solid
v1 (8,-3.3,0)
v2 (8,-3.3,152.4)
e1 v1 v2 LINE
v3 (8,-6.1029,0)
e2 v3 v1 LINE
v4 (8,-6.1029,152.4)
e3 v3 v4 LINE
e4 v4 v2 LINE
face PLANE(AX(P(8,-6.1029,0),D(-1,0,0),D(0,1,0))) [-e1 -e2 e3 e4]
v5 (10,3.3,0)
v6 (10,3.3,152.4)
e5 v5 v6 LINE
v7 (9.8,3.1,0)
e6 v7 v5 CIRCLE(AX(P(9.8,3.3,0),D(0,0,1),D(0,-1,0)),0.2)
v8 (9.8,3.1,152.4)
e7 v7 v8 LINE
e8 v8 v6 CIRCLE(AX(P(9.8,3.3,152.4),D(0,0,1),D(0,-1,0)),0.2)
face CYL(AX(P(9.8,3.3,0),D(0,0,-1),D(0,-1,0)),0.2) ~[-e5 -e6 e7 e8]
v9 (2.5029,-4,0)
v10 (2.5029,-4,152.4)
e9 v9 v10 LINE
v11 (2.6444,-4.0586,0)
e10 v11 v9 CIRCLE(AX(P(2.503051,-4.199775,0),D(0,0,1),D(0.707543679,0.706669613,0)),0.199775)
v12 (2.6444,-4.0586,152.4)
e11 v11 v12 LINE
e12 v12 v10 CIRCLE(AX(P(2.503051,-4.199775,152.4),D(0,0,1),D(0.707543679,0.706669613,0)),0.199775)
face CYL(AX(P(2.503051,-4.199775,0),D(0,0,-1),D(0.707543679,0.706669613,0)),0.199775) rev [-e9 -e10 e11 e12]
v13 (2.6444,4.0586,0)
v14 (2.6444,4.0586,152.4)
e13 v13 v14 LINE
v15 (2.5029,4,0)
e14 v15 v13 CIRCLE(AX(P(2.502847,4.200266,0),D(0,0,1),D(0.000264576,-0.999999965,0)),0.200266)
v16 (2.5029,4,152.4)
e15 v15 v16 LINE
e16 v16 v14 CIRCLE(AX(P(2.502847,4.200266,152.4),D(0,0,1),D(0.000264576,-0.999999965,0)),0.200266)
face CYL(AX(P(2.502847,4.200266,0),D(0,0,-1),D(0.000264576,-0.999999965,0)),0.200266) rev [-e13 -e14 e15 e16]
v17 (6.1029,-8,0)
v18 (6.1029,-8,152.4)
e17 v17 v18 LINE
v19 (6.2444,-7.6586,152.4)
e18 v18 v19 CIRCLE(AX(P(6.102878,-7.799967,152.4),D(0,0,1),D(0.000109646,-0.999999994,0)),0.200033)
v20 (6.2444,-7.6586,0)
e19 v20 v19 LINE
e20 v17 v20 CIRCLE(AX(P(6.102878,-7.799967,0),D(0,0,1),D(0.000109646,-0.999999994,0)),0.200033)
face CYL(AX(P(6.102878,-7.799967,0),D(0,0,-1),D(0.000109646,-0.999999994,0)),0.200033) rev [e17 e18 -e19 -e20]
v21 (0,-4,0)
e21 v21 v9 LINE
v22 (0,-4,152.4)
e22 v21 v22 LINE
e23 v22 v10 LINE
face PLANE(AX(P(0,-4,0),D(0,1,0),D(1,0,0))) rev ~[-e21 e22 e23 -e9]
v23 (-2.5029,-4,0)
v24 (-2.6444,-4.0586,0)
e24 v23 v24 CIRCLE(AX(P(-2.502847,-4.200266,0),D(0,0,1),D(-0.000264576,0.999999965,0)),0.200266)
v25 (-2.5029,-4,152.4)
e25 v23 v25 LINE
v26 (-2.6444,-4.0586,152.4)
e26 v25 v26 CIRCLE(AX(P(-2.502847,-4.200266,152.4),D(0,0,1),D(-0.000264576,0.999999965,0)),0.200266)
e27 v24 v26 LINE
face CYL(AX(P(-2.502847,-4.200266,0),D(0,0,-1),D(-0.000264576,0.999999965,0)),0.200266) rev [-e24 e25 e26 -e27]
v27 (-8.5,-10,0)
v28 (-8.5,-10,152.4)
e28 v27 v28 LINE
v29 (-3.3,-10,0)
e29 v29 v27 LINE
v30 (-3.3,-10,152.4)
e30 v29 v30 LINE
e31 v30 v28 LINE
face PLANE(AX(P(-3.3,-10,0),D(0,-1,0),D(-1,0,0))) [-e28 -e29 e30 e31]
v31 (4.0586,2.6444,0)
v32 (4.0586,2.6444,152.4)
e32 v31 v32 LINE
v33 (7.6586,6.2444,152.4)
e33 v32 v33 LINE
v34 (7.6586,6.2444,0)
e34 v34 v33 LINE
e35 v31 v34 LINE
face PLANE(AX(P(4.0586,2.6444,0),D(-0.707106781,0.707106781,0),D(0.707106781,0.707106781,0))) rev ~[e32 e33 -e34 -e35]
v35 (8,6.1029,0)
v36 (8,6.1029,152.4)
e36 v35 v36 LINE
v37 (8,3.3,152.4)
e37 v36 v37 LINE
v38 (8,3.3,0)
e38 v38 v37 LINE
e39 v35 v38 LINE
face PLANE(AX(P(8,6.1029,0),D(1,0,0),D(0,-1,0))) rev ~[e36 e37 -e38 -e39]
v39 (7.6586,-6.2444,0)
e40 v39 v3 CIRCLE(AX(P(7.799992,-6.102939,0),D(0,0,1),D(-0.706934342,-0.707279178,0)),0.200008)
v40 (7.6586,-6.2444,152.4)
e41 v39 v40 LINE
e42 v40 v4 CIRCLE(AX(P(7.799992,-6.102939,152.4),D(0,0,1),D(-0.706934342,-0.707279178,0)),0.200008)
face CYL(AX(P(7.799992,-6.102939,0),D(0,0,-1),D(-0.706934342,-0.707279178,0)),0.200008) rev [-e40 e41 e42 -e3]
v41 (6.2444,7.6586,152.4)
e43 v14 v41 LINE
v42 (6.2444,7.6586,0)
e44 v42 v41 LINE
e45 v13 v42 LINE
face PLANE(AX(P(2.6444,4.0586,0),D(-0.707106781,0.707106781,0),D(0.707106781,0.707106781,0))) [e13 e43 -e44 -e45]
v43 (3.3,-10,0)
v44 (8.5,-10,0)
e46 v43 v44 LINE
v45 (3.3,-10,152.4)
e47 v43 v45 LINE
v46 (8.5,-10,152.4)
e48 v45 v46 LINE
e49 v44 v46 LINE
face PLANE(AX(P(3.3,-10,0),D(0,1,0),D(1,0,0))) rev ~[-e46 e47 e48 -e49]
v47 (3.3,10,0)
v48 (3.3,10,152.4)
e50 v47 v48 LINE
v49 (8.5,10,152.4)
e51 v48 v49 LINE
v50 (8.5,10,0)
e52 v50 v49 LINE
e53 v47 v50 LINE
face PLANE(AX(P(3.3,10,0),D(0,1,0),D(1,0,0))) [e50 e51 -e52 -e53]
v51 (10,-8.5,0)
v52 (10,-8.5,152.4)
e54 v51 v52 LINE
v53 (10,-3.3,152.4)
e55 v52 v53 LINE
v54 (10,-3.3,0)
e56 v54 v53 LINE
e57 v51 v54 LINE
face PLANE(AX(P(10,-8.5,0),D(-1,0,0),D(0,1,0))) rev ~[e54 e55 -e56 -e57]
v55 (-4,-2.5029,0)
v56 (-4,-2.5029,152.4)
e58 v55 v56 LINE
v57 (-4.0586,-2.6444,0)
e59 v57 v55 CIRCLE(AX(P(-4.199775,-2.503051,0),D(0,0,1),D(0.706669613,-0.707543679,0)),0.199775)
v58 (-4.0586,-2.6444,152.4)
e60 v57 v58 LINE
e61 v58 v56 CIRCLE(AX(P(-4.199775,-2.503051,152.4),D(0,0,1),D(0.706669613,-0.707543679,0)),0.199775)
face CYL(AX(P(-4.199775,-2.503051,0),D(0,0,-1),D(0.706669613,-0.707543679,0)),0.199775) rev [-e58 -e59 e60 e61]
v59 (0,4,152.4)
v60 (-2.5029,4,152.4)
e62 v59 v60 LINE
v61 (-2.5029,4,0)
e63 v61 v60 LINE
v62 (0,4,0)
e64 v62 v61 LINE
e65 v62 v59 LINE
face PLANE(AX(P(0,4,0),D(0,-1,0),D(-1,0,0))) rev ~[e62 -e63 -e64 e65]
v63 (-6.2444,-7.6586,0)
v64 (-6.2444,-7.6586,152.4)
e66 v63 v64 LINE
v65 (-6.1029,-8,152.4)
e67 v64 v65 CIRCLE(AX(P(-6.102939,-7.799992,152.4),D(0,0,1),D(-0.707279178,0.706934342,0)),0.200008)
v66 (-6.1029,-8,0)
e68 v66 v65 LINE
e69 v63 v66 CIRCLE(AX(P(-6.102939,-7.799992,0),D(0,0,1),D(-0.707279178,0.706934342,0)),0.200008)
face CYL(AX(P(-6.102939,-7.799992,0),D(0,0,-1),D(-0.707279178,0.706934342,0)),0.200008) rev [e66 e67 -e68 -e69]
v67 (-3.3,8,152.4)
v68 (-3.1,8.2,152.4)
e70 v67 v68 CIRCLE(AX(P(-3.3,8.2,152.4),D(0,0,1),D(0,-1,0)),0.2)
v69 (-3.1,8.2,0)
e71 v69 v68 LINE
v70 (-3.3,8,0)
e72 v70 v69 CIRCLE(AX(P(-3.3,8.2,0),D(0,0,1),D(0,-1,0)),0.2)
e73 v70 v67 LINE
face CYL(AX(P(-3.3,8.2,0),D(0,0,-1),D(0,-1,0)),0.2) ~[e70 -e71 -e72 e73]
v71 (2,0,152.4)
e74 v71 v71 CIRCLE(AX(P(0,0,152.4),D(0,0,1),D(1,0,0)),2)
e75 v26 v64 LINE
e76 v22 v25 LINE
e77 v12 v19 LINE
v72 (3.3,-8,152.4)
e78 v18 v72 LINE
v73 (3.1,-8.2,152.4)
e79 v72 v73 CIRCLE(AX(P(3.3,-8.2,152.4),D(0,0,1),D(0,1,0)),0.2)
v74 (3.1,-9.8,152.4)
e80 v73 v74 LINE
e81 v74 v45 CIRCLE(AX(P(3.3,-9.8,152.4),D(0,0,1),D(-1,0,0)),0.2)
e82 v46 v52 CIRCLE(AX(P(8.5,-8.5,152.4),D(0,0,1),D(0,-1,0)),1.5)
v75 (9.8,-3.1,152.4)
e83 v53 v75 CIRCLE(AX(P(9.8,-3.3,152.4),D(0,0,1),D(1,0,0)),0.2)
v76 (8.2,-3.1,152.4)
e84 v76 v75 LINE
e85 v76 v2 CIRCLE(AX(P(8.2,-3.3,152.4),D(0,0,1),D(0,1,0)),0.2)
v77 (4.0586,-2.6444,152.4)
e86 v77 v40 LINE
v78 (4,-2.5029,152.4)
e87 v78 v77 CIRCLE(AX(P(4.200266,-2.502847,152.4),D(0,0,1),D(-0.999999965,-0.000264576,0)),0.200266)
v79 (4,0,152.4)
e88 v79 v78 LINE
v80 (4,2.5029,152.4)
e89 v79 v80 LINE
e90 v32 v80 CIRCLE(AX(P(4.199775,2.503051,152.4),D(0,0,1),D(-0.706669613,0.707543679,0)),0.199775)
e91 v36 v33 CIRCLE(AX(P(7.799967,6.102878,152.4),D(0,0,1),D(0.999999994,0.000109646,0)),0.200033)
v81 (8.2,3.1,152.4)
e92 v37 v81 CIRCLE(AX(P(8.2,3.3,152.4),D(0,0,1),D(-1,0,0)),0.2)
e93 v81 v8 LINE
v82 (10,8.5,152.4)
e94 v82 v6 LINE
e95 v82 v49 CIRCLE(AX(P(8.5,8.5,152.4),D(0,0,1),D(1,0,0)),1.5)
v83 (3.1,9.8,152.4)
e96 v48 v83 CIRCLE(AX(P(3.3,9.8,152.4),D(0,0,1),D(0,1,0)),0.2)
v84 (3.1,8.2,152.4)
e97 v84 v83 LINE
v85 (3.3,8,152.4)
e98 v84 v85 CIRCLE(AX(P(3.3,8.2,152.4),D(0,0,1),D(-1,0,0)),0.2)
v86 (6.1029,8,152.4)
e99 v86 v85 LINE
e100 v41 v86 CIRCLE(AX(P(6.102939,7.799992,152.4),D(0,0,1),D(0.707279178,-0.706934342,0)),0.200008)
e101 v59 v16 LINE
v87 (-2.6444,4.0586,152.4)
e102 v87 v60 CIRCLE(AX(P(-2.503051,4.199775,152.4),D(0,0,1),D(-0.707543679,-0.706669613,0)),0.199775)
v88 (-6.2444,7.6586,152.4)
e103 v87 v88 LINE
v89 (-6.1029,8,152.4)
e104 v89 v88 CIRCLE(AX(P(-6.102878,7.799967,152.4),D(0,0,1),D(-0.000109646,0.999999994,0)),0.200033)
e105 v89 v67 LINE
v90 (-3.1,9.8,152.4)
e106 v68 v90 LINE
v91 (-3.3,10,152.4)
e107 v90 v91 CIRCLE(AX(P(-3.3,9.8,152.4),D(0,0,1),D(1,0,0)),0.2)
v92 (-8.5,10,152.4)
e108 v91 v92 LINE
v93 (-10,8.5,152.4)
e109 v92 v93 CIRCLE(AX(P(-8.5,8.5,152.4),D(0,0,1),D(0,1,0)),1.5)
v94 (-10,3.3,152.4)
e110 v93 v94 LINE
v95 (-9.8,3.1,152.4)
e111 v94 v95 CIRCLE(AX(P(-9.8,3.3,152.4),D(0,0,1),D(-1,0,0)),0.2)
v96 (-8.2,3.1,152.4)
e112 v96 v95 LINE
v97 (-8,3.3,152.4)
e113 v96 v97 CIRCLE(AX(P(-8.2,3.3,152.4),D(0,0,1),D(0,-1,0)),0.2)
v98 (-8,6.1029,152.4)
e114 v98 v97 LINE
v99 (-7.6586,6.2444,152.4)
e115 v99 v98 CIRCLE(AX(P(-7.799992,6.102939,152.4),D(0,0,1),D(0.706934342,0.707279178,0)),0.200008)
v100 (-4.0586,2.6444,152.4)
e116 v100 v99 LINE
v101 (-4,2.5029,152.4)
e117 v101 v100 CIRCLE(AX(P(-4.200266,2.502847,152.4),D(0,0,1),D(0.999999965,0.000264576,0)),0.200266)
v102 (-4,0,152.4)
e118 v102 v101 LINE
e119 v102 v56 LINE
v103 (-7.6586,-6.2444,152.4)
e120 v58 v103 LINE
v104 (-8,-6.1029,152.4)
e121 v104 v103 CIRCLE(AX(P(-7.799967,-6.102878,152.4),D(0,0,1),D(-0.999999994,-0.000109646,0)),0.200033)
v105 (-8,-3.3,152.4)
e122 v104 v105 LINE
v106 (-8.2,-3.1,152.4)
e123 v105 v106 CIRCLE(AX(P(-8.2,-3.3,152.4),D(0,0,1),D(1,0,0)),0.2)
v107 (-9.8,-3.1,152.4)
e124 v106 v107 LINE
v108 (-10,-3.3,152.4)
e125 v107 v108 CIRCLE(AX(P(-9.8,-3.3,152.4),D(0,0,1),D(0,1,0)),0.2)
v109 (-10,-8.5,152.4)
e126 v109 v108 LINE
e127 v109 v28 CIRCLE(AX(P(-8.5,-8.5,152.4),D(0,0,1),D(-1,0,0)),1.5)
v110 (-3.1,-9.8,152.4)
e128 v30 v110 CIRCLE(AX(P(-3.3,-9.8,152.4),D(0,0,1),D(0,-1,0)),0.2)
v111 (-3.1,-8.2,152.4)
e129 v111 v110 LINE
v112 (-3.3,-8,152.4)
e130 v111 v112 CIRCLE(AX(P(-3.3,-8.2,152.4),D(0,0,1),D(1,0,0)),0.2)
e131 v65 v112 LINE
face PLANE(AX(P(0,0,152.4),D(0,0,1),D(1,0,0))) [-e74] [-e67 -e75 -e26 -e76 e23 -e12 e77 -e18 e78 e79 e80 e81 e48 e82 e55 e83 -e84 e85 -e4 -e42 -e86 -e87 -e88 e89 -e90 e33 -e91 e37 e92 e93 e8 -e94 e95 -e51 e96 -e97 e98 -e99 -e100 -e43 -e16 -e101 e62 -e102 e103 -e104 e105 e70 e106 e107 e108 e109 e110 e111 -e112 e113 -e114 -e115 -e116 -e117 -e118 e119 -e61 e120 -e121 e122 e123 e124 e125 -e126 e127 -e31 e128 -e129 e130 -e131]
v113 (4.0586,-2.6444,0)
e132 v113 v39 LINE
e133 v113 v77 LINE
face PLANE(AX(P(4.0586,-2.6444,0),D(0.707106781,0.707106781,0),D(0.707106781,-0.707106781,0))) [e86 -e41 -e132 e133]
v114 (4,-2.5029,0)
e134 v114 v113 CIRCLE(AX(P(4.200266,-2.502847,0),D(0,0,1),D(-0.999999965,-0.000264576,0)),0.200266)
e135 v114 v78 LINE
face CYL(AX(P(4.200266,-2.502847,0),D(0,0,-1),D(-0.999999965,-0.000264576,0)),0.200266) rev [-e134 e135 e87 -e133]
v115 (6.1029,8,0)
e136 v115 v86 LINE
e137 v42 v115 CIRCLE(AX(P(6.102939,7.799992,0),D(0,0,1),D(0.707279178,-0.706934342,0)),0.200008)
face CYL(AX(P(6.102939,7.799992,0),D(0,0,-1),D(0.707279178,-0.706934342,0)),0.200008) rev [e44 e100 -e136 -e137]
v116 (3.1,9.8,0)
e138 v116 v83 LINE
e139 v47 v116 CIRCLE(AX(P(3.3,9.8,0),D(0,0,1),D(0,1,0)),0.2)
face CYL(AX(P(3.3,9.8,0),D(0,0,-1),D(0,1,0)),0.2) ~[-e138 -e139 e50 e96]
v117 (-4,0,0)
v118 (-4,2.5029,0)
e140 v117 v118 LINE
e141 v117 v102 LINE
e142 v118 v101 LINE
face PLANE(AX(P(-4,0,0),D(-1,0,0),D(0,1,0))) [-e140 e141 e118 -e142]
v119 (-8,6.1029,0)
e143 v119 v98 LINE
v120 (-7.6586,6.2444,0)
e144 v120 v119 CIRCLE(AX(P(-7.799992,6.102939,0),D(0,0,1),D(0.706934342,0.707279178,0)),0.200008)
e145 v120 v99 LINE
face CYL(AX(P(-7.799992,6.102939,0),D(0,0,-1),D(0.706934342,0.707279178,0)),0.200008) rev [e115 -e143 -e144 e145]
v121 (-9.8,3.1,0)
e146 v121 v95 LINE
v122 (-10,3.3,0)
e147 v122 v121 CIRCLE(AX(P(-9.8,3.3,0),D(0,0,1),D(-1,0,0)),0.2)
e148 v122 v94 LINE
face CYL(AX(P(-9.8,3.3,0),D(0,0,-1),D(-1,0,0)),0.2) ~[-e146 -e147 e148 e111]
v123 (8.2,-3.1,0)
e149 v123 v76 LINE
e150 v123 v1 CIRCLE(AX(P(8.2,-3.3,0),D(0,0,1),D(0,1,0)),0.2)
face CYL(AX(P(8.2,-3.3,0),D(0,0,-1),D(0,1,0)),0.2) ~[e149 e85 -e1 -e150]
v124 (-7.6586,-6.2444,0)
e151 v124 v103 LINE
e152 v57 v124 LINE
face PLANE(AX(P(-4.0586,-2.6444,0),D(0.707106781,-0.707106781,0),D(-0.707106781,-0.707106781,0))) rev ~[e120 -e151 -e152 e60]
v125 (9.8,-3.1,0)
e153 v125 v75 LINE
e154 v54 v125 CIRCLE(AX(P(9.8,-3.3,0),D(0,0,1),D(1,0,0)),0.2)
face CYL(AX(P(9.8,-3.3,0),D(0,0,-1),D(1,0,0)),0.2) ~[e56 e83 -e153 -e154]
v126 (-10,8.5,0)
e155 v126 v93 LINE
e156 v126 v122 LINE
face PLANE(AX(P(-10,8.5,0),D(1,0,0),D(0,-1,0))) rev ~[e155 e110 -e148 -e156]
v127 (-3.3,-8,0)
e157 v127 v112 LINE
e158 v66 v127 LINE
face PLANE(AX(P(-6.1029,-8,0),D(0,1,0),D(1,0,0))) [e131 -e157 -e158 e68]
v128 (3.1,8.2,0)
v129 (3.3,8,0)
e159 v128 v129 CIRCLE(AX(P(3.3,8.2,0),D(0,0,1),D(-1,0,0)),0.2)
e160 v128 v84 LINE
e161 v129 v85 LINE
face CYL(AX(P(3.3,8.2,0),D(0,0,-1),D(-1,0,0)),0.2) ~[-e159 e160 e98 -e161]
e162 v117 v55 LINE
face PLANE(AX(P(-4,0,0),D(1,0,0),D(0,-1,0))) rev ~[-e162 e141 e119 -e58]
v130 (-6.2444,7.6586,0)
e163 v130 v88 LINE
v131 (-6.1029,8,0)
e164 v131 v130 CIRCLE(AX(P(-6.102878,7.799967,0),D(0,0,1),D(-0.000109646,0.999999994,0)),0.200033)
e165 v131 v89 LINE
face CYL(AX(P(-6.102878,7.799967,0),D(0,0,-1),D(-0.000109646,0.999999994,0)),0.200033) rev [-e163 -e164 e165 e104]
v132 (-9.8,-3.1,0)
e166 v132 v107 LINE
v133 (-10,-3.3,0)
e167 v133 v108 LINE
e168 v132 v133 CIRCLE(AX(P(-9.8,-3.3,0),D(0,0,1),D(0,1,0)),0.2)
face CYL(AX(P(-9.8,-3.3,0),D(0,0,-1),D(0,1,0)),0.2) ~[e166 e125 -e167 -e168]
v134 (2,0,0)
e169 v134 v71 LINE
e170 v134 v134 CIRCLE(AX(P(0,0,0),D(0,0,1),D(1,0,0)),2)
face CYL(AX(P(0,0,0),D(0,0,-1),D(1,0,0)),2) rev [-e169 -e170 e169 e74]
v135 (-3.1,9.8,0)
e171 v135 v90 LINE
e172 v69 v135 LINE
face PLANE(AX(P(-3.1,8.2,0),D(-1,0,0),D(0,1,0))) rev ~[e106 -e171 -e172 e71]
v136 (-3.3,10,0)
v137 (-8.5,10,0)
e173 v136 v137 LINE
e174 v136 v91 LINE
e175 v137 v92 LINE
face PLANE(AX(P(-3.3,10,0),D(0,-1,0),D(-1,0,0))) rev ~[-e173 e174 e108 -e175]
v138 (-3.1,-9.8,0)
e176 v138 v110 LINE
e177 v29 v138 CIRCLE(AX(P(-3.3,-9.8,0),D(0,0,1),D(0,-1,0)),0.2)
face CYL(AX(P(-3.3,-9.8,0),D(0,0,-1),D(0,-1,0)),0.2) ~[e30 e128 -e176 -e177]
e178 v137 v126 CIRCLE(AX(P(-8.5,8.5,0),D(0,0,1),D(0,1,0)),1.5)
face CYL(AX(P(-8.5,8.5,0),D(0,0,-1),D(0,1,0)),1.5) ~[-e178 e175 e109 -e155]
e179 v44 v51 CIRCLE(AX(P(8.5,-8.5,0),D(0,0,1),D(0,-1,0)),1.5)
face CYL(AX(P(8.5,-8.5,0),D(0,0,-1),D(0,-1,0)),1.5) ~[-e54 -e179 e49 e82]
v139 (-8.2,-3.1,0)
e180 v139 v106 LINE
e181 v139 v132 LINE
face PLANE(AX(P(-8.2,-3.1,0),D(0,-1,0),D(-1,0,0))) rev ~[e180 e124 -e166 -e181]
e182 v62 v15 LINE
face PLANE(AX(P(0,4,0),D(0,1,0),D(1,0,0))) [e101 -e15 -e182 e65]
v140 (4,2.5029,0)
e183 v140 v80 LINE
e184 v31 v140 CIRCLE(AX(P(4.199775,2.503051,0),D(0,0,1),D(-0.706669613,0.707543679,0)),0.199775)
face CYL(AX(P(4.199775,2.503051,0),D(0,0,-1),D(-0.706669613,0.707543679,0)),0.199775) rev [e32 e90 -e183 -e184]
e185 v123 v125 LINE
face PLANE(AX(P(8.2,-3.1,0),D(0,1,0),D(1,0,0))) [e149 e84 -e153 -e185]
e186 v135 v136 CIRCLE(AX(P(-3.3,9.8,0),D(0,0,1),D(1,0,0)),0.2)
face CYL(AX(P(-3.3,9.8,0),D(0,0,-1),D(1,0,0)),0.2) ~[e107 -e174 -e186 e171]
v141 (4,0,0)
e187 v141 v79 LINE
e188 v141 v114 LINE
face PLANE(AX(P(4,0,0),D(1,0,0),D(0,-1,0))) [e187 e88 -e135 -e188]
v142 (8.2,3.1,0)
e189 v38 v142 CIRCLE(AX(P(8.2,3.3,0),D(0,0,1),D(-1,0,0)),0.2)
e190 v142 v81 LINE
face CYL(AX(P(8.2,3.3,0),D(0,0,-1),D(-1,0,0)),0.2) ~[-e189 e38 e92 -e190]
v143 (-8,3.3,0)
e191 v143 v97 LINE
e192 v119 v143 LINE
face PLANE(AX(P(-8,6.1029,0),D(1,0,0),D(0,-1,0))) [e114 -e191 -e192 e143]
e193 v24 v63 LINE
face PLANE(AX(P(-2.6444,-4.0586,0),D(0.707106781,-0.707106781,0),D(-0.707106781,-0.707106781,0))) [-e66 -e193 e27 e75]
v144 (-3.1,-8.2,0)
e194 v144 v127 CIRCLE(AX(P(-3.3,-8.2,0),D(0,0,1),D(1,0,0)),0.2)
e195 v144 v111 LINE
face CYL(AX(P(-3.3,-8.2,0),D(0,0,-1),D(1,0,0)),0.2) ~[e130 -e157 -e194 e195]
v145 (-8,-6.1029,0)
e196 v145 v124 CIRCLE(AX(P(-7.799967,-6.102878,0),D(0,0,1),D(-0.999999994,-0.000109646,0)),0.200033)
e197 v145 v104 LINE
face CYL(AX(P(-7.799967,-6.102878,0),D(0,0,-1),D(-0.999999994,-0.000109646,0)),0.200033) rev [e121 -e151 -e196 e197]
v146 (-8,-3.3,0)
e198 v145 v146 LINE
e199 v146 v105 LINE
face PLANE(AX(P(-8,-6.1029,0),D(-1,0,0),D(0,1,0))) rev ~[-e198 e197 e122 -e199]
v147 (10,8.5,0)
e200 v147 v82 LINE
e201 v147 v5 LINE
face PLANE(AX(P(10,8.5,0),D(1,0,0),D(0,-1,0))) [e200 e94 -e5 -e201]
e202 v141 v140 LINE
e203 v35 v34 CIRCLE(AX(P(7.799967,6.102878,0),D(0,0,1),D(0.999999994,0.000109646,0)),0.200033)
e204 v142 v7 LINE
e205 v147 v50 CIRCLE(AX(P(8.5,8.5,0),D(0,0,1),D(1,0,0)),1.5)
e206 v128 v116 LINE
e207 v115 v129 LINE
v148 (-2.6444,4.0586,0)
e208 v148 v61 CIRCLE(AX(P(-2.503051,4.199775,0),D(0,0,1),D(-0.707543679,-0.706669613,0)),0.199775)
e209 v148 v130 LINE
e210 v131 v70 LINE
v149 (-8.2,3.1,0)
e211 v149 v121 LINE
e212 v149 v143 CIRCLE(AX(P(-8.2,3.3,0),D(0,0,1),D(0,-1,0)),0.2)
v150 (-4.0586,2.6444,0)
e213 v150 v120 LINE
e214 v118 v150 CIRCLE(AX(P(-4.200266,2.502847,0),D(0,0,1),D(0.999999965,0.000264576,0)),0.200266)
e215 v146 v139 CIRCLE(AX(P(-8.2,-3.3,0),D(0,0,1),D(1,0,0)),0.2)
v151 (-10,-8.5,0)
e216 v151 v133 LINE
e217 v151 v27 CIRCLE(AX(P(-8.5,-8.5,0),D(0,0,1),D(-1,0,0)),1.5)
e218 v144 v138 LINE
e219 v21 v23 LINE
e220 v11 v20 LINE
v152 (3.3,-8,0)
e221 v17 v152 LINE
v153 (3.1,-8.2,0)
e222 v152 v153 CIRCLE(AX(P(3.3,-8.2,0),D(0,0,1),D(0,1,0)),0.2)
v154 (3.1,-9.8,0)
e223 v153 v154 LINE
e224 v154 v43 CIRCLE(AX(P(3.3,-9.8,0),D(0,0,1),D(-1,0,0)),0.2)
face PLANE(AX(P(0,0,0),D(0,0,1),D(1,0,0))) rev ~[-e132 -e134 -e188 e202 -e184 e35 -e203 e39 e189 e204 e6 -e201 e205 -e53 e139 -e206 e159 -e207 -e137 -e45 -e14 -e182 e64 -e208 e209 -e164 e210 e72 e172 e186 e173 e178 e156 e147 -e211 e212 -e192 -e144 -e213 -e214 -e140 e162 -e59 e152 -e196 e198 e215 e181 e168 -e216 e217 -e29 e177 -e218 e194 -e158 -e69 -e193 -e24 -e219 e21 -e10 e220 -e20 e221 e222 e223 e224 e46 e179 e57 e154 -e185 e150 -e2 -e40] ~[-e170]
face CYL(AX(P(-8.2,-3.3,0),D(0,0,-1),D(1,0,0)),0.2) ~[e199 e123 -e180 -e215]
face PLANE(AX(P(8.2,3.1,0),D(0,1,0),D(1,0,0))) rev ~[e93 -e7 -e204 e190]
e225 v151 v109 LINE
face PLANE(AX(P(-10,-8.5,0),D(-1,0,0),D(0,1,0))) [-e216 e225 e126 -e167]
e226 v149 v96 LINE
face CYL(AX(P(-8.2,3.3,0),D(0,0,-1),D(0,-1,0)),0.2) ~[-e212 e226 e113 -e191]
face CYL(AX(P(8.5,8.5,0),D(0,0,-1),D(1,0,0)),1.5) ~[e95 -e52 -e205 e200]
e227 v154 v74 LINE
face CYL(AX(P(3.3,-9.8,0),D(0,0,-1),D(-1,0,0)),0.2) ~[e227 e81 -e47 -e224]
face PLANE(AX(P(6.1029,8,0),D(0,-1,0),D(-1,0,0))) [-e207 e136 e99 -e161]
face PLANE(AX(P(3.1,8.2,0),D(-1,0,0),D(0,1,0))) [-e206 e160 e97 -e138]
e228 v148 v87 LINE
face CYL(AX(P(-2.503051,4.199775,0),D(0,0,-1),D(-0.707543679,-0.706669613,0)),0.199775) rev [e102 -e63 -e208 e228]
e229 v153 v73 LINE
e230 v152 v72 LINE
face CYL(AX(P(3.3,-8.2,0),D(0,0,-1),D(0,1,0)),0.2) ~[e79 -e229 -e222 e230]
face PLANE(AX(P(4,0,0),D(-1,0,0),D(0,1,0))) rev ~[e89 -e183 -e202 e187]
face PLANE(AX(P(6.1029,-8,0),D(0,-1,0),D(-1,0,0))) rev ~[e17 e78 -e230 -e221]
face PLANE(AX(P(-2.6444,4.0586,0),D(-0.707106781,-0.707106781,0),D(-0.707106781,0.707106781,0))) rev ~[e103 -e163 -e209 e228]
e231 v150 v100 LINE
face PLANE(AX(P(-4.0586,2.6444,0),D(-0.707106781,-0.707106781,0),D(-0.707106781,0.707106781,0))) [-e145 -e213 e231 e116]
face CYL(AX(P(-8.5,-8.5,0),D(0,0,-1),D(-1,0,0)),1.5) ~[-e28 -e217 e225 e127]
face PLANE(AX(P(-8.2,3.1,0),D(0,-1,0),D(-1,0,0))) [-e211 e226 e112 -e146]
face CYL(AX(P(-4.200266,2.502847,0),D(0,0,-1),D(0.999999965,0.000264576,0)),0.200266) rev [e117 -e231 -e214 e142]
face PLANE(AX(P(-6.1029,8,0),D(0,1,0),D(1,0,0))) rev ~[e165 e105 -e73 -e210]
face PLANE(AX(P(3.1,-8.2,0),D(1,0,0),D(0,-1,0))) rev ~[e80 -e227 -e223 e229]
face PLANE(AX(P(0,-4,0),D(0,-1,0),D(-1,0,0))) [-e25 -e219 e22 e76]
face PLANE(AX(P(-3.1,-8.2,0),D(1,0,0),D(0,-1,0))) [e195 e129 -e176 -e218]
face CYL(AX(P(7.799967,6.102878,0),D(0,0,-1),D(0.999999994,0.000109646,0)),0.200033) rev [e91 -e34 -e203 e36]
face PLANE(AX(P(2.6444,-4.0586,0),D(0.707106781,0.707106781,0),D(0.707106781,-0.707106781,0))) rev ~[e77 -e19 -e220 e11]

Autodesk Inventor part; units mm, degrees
ref_plane "YZ Plane" through (0, 0, 0) normal (1, 0, 0) x (0, 1, 0)
ref_plane "XZ Plane" through (0, 0, 0) normal (0, 1, 0) x (-1, 0, 0)
ref_plane "XY Plane" through (0, 0, 0) normal (0, 0, 1) x (1, 0, 0)
sketch "Sketch1" plane through (0, 0, 0) normal (0, 0, 1) x (1, 0, 0)
  line L0 (-10, 10) -> (10, 10) construction
  line L1 (10, 10) -> (10, -10) construction
  line L2 (10, -10) -> (-10, -10) construction
  line L3 (-10, -10) -> (-10, 10) construction
  line L4 (-10, 10) -> (10, -10) construction
  line L5 (10, 10) -> (-10, -10) construction
  circle A0 centre (0, 0) radius 2
  line L6 (-4, -4) -> (4, -4) construction
  line L7 (4, -4) -> (4, 4) construction
  line L8 (4, 4) -> (-4, 4) construction
  line L9 (-4, 4) -> (-4, -4) construction
  line L10 (-4, -4) -> (4, 4) construction
  line L11 (4, -4) -> (-4, 4) construction
  line L12 (2.6444, 4.0586) -> (6.2444, 7.6586)
  line L13 (6.1029, 8) -> (3.3, 8)
  line L14 (3.1, 8.2) -> (3.1, 9.8)
  line L15 (3.3, 10) -> (8.5, 10)
  line L16 (4.0586, 2.6444) -> (7.6586, 6.2444)
  line L17 (8, 6.1029) -> (8, 3.3)
  line L18 (8.2, 3.1) -> (9.8, 3.1)
  line L19 (10, 8.5) -> (10, 3.3)
  line L20 (0, 4) -> (2.5029, 4)
  line L21 (4, 0) -> (4, 2.5029)
  line L22 (0, 10) -> (0, -10) construction
  line L23 (-10, 0) -> (10, 0) construction
  line L24 (-2.6444, 4.0586) -> (-6.2444, 7.6586)
  line L25 (-6.1029, 8) -> (-3.3, 8)
  line L26 (-3.1, 8.2) -> (-3.1, 9.8)
  line L27 (-3.3, 10) -> (-8.5, 10)
  line L28 (-4.0586, 2.6444) -> (-7.6586, 6.2444)
  line L29 (-8, 6.1029) -> (-8, 3.3)
  line L30 (-8.2, 3.1) -> (-9.8, 3.1)
  line L31 (-10, 8.5) -> (-10, 3.3)
  line L32 (0, 4) -> (-2.5029, 4)
  line L33 (-4, 0) -> (-4, 2.5029)
  line L34 (2.6444, -4.0586) -> (6.2444, -7.6586)
  line L35 (6.1029, -8) -> (3.3, -8)
  line L36 (3.1, -8.2) -> (3.1, -9.8)
  line L37 (3.3, -10) -> (8.5, -10)
  line L38 (4.0586, -2.6444) -> (7.6586, -6.2444)
  line L39 (8, -6.1029) -> (8, -3.3)
  line L40 (8.2, -3.1) -> (9.8, -3.1)
  line L41 (10, -8.5) -> (10, -3.3)
  line L42 (0, -4) -> (2.5029, -4)
  line L43 (4, 0) -> (4, -2.5029)
  line L44 (0, -4) -> (-2.5029, -4)
  line L45 (-2.6444, -4.0586) -> (-6.2444, -7.6586)
  line L46 (-6.1029, -8) -> (-3.3, -8)
  line L47 (-3.1, -8.2) -> (-3.1, -9.8)
  line L48 (-3.3, -10) -> (-8.5, -10)
  line L49 (-4.0586, -2.6444) -> (-7.6586, -6.2444)
  line L50 (-4, 0) -> (-4, -2.5029)
  line L51 (-8, -6.1029) -> (-8, -3.3)
  line L52 (-8.2, -3.1) -> (-9.8, -3.1)
  line L53 (-10, -8.5) -> (-10, -3.3)
  arc A1 (10, 8.5) -> (8.5, 10) centre (8.5, 8.5) ccw
  arc A2 (-8.5, 10) -> (-10, 8.5) centre (-8.5, 8.5) ccw
  arc A3 (-10, -8.5) -> (-8.5, -10) centre (-8.5, -8.5) ccw
  arc A4 (8.5, -10) -> (10, -8.5) centre (8.5, -8.5) ccw
  arc A5 (-3.1, 9.8) -> (-3.3, 10) centre (-3.3, 9.8) ccw
  arc A6 (-3.3, 8) -> (-3.1, 8.2) centre (-3.3, 8.2) ccw
  arc A7 (-6.1029, 8) -> (-6.2444, 7.6586) centre (-6.1029, 7.8) ccw
  arc A8 (6.2444, 7.6586) -> (6.1029, 8) centre (6.1029, 7.8) ccw
  arc A9 (-8, -6.1029) -> (-7.6586, -6.2444) centre (-7.8, -6.1029) ccw
  arc A10 (-3.1, -8.2) -> (-3.3, -8) centre (-3.3, -8.2) ccw
  arc A11 (6.1029, -8) -> (6.2444, -7.6586) centre (6.1029, -7.8) ccw
  arc A12 (3.3, -8) -> (3.1, -8.2) centre (3.3, -8.2) ccw
  arc A13 (-6.2444, -7.6586) -> (-6.1029, -8) centre (-6.1029, -7.8) ccw
  arc A14 (7.6586, -6.2444) -> (8, -6.1029) centre (7.8, -6.1029) ccw
  arc A15 (8.2, -3.1) -> (8, -3.3) centre (8.2, -3.3) ccw
  arc A16 (8, 6.1029) -> (7.6586, 6.2444) centre (7.8, 6.1029) ccw
  arc A17 (8, 3.3) -> (8.2, 3.1) centre (8.2, 3.3) ccw
  arc A18 (3.3, 10) -> (3.1, 9.8) centre (3.3, 9.8) ccw
  arc A19 (-2.6444, 4.0586) -> (-2.5029, 4) centre (-2.5029, 4.2) ccw
  arc A20 (2.5029, 4) -> (2.6444, 4.0586) centre (2.5029, 4.2) ccw
  arc A21 (4.0586, 2.6444) -> (4, 2.5029) centre (4.2, 2.5029) ccw
  arc A22 (4, -2.5029) -> (4.0586, -2.6444) centre (4.2, -2.5029) ccw
  arc A23 (2.6444, -4.0586) -> (2.5029, -4) centre (2.5029, -4.2) ccw
  arc A24 (-2.5029, -4) -> (-2.6444, -4.0586) centre (-2.5029, -4.2) ccw
  arc A25 (-4.0586, -2.6444) -> (-4, -2.5029) centre (-4.2, -2.5029) ccw
  arc A26 (-4, 2.5029) -> (-4.0586, 2.6444) centre (-4.2, 2.5029) ccw
  arc A27 (-7.6586, 6.2444) -> (-8, 6.1029) centre (-7.8, 6.1029) ccw
  arc A28 (-8.2, 3.1) -> (-8, 3.3) centre (-8.2, 3.3) ccw
  arc A29 (-10, 3.3) -> (-9.8, 3.1) centre (-9.8, 3.3) ccw
  arc A30 (-8, -3.3) -> (-8.2, -3.1) centre (-8.2, -3.3) ccw
  arc A31 (-9.8, -3.1) -> (-10, -3.3) centre (-9.8, -3.3) ccw
  arc A32 (-3.3, -10) -> (-3.1, -9.8) centre (-3.3, -9.8) ccw
  arc A33 (3.1, -9.8) -> (3.3, -10) centre (3.3, -9.8) ccw
  arc A34 (10, -3.3) -> (9.8, -3.1) centre (9.8, -3.3) ccw
  arc A35 (9.8, 3.1) -> (10, 3.3) centre (9.8, 3.3) ccw
  arc A36 (3.1, 8.2) -> (3.3, 8) centre (3.3, 8.2) ccw
  point P0 (2.5858, 4)
  point P1 (6.5858, 8)
  point P2 (3.1, 8)
  point P3 (3.1, 10)
  point P4 (4, 2.5858)
  point P5 (8, 6.5858)
  point P6 (8, 3.1)
  point P7 (10, 3.1)
  point P8 (-2.5858, 4)
  point P9 (-6.5858, 8)
  point P10 (-3.1, 8)
  point P11 (-3.1, 10)
  point P12 (-4, 2.5858)
  point P13 (-8, 6.5858)
  point P14 (-8, 3.1)
  point P15 (-10, 3.1)
  point P16 (2.5858, -4)
  point P17 (6.5858, -8)
  point P18 (3.1, -8)
  point P19 (3.1, -10)
  point P20 (4, -2.5858)
  point P21 (8, -6.5858)
  point P22 (8, -3.1)
  point P23 (10, -3.1)
  point P24 (-2.5858, -4)
  point P25 (-6.5858, -8)
  point P26 (-3.1, -8)
  point P27 (-3.1, -10)
  point P28 (-4, -2.5858)
  point P29 (-8, -6.5858)
  point P30 (-8, -3.1)
  point P31 (-10, -3.1)
  dimension "d0" = 20
  dimension "d1" = 20
  dimension "d2" = 4
  dimension "d5" = 6
  dimension "t" = 2
  dimension "d7" = 1
  dimension "d8" = 2
  dimension "d9" = 2
  dimension "d10" = 3.1
  dimension "d11" = 3.1
  dimension "d15" = 1.5
  dimension "d16" = 1.5
  dimension "d17" = 1.5
  dimension "d18" = 1.5
  dimension "d19" = 0.2
  dimension "d20" = 0.2
  dimension "d21" = 0.2
  dimension "d22" = 0.2
  dimension "d23" = 0.2
  dimension "d24" = 0.2
  dimension "d25" = 0.2
  dimension "d26" = 0.2
  dimension "d27" = 0.2
  dimension "d28" = 0.2
  dimension "d29" = 0.2
  dimension "d30" = 0.2
  dimension "d31" = 0.2
  dimension "d32" = 0.2
  dimension "d33" = 0.2
  dimension "d34" = 0.2
  dimension "d35" = 0.2
  dimension "d36" = 0.2
  dimension "d37" = 0.2
  dimension "d38" = 0.2
  dimension "d39" = 0.2
  dimension "d40" = 0.2
  dimension "d41" = 0.2
extrude "2020 Al T-S (1000mm)" add sketch "Sketch1" along normal blind 152.4
equation "\"d1\" = d0"
equation "\"d7\" = 0.5 * t"
equation "\"d8\" = t"
equation "\"d9\" = t"
equation "\"d11\" = d10"
properties part number "2020 Aluminium Extrusion T-Slot" material "Aluminum 6061"
